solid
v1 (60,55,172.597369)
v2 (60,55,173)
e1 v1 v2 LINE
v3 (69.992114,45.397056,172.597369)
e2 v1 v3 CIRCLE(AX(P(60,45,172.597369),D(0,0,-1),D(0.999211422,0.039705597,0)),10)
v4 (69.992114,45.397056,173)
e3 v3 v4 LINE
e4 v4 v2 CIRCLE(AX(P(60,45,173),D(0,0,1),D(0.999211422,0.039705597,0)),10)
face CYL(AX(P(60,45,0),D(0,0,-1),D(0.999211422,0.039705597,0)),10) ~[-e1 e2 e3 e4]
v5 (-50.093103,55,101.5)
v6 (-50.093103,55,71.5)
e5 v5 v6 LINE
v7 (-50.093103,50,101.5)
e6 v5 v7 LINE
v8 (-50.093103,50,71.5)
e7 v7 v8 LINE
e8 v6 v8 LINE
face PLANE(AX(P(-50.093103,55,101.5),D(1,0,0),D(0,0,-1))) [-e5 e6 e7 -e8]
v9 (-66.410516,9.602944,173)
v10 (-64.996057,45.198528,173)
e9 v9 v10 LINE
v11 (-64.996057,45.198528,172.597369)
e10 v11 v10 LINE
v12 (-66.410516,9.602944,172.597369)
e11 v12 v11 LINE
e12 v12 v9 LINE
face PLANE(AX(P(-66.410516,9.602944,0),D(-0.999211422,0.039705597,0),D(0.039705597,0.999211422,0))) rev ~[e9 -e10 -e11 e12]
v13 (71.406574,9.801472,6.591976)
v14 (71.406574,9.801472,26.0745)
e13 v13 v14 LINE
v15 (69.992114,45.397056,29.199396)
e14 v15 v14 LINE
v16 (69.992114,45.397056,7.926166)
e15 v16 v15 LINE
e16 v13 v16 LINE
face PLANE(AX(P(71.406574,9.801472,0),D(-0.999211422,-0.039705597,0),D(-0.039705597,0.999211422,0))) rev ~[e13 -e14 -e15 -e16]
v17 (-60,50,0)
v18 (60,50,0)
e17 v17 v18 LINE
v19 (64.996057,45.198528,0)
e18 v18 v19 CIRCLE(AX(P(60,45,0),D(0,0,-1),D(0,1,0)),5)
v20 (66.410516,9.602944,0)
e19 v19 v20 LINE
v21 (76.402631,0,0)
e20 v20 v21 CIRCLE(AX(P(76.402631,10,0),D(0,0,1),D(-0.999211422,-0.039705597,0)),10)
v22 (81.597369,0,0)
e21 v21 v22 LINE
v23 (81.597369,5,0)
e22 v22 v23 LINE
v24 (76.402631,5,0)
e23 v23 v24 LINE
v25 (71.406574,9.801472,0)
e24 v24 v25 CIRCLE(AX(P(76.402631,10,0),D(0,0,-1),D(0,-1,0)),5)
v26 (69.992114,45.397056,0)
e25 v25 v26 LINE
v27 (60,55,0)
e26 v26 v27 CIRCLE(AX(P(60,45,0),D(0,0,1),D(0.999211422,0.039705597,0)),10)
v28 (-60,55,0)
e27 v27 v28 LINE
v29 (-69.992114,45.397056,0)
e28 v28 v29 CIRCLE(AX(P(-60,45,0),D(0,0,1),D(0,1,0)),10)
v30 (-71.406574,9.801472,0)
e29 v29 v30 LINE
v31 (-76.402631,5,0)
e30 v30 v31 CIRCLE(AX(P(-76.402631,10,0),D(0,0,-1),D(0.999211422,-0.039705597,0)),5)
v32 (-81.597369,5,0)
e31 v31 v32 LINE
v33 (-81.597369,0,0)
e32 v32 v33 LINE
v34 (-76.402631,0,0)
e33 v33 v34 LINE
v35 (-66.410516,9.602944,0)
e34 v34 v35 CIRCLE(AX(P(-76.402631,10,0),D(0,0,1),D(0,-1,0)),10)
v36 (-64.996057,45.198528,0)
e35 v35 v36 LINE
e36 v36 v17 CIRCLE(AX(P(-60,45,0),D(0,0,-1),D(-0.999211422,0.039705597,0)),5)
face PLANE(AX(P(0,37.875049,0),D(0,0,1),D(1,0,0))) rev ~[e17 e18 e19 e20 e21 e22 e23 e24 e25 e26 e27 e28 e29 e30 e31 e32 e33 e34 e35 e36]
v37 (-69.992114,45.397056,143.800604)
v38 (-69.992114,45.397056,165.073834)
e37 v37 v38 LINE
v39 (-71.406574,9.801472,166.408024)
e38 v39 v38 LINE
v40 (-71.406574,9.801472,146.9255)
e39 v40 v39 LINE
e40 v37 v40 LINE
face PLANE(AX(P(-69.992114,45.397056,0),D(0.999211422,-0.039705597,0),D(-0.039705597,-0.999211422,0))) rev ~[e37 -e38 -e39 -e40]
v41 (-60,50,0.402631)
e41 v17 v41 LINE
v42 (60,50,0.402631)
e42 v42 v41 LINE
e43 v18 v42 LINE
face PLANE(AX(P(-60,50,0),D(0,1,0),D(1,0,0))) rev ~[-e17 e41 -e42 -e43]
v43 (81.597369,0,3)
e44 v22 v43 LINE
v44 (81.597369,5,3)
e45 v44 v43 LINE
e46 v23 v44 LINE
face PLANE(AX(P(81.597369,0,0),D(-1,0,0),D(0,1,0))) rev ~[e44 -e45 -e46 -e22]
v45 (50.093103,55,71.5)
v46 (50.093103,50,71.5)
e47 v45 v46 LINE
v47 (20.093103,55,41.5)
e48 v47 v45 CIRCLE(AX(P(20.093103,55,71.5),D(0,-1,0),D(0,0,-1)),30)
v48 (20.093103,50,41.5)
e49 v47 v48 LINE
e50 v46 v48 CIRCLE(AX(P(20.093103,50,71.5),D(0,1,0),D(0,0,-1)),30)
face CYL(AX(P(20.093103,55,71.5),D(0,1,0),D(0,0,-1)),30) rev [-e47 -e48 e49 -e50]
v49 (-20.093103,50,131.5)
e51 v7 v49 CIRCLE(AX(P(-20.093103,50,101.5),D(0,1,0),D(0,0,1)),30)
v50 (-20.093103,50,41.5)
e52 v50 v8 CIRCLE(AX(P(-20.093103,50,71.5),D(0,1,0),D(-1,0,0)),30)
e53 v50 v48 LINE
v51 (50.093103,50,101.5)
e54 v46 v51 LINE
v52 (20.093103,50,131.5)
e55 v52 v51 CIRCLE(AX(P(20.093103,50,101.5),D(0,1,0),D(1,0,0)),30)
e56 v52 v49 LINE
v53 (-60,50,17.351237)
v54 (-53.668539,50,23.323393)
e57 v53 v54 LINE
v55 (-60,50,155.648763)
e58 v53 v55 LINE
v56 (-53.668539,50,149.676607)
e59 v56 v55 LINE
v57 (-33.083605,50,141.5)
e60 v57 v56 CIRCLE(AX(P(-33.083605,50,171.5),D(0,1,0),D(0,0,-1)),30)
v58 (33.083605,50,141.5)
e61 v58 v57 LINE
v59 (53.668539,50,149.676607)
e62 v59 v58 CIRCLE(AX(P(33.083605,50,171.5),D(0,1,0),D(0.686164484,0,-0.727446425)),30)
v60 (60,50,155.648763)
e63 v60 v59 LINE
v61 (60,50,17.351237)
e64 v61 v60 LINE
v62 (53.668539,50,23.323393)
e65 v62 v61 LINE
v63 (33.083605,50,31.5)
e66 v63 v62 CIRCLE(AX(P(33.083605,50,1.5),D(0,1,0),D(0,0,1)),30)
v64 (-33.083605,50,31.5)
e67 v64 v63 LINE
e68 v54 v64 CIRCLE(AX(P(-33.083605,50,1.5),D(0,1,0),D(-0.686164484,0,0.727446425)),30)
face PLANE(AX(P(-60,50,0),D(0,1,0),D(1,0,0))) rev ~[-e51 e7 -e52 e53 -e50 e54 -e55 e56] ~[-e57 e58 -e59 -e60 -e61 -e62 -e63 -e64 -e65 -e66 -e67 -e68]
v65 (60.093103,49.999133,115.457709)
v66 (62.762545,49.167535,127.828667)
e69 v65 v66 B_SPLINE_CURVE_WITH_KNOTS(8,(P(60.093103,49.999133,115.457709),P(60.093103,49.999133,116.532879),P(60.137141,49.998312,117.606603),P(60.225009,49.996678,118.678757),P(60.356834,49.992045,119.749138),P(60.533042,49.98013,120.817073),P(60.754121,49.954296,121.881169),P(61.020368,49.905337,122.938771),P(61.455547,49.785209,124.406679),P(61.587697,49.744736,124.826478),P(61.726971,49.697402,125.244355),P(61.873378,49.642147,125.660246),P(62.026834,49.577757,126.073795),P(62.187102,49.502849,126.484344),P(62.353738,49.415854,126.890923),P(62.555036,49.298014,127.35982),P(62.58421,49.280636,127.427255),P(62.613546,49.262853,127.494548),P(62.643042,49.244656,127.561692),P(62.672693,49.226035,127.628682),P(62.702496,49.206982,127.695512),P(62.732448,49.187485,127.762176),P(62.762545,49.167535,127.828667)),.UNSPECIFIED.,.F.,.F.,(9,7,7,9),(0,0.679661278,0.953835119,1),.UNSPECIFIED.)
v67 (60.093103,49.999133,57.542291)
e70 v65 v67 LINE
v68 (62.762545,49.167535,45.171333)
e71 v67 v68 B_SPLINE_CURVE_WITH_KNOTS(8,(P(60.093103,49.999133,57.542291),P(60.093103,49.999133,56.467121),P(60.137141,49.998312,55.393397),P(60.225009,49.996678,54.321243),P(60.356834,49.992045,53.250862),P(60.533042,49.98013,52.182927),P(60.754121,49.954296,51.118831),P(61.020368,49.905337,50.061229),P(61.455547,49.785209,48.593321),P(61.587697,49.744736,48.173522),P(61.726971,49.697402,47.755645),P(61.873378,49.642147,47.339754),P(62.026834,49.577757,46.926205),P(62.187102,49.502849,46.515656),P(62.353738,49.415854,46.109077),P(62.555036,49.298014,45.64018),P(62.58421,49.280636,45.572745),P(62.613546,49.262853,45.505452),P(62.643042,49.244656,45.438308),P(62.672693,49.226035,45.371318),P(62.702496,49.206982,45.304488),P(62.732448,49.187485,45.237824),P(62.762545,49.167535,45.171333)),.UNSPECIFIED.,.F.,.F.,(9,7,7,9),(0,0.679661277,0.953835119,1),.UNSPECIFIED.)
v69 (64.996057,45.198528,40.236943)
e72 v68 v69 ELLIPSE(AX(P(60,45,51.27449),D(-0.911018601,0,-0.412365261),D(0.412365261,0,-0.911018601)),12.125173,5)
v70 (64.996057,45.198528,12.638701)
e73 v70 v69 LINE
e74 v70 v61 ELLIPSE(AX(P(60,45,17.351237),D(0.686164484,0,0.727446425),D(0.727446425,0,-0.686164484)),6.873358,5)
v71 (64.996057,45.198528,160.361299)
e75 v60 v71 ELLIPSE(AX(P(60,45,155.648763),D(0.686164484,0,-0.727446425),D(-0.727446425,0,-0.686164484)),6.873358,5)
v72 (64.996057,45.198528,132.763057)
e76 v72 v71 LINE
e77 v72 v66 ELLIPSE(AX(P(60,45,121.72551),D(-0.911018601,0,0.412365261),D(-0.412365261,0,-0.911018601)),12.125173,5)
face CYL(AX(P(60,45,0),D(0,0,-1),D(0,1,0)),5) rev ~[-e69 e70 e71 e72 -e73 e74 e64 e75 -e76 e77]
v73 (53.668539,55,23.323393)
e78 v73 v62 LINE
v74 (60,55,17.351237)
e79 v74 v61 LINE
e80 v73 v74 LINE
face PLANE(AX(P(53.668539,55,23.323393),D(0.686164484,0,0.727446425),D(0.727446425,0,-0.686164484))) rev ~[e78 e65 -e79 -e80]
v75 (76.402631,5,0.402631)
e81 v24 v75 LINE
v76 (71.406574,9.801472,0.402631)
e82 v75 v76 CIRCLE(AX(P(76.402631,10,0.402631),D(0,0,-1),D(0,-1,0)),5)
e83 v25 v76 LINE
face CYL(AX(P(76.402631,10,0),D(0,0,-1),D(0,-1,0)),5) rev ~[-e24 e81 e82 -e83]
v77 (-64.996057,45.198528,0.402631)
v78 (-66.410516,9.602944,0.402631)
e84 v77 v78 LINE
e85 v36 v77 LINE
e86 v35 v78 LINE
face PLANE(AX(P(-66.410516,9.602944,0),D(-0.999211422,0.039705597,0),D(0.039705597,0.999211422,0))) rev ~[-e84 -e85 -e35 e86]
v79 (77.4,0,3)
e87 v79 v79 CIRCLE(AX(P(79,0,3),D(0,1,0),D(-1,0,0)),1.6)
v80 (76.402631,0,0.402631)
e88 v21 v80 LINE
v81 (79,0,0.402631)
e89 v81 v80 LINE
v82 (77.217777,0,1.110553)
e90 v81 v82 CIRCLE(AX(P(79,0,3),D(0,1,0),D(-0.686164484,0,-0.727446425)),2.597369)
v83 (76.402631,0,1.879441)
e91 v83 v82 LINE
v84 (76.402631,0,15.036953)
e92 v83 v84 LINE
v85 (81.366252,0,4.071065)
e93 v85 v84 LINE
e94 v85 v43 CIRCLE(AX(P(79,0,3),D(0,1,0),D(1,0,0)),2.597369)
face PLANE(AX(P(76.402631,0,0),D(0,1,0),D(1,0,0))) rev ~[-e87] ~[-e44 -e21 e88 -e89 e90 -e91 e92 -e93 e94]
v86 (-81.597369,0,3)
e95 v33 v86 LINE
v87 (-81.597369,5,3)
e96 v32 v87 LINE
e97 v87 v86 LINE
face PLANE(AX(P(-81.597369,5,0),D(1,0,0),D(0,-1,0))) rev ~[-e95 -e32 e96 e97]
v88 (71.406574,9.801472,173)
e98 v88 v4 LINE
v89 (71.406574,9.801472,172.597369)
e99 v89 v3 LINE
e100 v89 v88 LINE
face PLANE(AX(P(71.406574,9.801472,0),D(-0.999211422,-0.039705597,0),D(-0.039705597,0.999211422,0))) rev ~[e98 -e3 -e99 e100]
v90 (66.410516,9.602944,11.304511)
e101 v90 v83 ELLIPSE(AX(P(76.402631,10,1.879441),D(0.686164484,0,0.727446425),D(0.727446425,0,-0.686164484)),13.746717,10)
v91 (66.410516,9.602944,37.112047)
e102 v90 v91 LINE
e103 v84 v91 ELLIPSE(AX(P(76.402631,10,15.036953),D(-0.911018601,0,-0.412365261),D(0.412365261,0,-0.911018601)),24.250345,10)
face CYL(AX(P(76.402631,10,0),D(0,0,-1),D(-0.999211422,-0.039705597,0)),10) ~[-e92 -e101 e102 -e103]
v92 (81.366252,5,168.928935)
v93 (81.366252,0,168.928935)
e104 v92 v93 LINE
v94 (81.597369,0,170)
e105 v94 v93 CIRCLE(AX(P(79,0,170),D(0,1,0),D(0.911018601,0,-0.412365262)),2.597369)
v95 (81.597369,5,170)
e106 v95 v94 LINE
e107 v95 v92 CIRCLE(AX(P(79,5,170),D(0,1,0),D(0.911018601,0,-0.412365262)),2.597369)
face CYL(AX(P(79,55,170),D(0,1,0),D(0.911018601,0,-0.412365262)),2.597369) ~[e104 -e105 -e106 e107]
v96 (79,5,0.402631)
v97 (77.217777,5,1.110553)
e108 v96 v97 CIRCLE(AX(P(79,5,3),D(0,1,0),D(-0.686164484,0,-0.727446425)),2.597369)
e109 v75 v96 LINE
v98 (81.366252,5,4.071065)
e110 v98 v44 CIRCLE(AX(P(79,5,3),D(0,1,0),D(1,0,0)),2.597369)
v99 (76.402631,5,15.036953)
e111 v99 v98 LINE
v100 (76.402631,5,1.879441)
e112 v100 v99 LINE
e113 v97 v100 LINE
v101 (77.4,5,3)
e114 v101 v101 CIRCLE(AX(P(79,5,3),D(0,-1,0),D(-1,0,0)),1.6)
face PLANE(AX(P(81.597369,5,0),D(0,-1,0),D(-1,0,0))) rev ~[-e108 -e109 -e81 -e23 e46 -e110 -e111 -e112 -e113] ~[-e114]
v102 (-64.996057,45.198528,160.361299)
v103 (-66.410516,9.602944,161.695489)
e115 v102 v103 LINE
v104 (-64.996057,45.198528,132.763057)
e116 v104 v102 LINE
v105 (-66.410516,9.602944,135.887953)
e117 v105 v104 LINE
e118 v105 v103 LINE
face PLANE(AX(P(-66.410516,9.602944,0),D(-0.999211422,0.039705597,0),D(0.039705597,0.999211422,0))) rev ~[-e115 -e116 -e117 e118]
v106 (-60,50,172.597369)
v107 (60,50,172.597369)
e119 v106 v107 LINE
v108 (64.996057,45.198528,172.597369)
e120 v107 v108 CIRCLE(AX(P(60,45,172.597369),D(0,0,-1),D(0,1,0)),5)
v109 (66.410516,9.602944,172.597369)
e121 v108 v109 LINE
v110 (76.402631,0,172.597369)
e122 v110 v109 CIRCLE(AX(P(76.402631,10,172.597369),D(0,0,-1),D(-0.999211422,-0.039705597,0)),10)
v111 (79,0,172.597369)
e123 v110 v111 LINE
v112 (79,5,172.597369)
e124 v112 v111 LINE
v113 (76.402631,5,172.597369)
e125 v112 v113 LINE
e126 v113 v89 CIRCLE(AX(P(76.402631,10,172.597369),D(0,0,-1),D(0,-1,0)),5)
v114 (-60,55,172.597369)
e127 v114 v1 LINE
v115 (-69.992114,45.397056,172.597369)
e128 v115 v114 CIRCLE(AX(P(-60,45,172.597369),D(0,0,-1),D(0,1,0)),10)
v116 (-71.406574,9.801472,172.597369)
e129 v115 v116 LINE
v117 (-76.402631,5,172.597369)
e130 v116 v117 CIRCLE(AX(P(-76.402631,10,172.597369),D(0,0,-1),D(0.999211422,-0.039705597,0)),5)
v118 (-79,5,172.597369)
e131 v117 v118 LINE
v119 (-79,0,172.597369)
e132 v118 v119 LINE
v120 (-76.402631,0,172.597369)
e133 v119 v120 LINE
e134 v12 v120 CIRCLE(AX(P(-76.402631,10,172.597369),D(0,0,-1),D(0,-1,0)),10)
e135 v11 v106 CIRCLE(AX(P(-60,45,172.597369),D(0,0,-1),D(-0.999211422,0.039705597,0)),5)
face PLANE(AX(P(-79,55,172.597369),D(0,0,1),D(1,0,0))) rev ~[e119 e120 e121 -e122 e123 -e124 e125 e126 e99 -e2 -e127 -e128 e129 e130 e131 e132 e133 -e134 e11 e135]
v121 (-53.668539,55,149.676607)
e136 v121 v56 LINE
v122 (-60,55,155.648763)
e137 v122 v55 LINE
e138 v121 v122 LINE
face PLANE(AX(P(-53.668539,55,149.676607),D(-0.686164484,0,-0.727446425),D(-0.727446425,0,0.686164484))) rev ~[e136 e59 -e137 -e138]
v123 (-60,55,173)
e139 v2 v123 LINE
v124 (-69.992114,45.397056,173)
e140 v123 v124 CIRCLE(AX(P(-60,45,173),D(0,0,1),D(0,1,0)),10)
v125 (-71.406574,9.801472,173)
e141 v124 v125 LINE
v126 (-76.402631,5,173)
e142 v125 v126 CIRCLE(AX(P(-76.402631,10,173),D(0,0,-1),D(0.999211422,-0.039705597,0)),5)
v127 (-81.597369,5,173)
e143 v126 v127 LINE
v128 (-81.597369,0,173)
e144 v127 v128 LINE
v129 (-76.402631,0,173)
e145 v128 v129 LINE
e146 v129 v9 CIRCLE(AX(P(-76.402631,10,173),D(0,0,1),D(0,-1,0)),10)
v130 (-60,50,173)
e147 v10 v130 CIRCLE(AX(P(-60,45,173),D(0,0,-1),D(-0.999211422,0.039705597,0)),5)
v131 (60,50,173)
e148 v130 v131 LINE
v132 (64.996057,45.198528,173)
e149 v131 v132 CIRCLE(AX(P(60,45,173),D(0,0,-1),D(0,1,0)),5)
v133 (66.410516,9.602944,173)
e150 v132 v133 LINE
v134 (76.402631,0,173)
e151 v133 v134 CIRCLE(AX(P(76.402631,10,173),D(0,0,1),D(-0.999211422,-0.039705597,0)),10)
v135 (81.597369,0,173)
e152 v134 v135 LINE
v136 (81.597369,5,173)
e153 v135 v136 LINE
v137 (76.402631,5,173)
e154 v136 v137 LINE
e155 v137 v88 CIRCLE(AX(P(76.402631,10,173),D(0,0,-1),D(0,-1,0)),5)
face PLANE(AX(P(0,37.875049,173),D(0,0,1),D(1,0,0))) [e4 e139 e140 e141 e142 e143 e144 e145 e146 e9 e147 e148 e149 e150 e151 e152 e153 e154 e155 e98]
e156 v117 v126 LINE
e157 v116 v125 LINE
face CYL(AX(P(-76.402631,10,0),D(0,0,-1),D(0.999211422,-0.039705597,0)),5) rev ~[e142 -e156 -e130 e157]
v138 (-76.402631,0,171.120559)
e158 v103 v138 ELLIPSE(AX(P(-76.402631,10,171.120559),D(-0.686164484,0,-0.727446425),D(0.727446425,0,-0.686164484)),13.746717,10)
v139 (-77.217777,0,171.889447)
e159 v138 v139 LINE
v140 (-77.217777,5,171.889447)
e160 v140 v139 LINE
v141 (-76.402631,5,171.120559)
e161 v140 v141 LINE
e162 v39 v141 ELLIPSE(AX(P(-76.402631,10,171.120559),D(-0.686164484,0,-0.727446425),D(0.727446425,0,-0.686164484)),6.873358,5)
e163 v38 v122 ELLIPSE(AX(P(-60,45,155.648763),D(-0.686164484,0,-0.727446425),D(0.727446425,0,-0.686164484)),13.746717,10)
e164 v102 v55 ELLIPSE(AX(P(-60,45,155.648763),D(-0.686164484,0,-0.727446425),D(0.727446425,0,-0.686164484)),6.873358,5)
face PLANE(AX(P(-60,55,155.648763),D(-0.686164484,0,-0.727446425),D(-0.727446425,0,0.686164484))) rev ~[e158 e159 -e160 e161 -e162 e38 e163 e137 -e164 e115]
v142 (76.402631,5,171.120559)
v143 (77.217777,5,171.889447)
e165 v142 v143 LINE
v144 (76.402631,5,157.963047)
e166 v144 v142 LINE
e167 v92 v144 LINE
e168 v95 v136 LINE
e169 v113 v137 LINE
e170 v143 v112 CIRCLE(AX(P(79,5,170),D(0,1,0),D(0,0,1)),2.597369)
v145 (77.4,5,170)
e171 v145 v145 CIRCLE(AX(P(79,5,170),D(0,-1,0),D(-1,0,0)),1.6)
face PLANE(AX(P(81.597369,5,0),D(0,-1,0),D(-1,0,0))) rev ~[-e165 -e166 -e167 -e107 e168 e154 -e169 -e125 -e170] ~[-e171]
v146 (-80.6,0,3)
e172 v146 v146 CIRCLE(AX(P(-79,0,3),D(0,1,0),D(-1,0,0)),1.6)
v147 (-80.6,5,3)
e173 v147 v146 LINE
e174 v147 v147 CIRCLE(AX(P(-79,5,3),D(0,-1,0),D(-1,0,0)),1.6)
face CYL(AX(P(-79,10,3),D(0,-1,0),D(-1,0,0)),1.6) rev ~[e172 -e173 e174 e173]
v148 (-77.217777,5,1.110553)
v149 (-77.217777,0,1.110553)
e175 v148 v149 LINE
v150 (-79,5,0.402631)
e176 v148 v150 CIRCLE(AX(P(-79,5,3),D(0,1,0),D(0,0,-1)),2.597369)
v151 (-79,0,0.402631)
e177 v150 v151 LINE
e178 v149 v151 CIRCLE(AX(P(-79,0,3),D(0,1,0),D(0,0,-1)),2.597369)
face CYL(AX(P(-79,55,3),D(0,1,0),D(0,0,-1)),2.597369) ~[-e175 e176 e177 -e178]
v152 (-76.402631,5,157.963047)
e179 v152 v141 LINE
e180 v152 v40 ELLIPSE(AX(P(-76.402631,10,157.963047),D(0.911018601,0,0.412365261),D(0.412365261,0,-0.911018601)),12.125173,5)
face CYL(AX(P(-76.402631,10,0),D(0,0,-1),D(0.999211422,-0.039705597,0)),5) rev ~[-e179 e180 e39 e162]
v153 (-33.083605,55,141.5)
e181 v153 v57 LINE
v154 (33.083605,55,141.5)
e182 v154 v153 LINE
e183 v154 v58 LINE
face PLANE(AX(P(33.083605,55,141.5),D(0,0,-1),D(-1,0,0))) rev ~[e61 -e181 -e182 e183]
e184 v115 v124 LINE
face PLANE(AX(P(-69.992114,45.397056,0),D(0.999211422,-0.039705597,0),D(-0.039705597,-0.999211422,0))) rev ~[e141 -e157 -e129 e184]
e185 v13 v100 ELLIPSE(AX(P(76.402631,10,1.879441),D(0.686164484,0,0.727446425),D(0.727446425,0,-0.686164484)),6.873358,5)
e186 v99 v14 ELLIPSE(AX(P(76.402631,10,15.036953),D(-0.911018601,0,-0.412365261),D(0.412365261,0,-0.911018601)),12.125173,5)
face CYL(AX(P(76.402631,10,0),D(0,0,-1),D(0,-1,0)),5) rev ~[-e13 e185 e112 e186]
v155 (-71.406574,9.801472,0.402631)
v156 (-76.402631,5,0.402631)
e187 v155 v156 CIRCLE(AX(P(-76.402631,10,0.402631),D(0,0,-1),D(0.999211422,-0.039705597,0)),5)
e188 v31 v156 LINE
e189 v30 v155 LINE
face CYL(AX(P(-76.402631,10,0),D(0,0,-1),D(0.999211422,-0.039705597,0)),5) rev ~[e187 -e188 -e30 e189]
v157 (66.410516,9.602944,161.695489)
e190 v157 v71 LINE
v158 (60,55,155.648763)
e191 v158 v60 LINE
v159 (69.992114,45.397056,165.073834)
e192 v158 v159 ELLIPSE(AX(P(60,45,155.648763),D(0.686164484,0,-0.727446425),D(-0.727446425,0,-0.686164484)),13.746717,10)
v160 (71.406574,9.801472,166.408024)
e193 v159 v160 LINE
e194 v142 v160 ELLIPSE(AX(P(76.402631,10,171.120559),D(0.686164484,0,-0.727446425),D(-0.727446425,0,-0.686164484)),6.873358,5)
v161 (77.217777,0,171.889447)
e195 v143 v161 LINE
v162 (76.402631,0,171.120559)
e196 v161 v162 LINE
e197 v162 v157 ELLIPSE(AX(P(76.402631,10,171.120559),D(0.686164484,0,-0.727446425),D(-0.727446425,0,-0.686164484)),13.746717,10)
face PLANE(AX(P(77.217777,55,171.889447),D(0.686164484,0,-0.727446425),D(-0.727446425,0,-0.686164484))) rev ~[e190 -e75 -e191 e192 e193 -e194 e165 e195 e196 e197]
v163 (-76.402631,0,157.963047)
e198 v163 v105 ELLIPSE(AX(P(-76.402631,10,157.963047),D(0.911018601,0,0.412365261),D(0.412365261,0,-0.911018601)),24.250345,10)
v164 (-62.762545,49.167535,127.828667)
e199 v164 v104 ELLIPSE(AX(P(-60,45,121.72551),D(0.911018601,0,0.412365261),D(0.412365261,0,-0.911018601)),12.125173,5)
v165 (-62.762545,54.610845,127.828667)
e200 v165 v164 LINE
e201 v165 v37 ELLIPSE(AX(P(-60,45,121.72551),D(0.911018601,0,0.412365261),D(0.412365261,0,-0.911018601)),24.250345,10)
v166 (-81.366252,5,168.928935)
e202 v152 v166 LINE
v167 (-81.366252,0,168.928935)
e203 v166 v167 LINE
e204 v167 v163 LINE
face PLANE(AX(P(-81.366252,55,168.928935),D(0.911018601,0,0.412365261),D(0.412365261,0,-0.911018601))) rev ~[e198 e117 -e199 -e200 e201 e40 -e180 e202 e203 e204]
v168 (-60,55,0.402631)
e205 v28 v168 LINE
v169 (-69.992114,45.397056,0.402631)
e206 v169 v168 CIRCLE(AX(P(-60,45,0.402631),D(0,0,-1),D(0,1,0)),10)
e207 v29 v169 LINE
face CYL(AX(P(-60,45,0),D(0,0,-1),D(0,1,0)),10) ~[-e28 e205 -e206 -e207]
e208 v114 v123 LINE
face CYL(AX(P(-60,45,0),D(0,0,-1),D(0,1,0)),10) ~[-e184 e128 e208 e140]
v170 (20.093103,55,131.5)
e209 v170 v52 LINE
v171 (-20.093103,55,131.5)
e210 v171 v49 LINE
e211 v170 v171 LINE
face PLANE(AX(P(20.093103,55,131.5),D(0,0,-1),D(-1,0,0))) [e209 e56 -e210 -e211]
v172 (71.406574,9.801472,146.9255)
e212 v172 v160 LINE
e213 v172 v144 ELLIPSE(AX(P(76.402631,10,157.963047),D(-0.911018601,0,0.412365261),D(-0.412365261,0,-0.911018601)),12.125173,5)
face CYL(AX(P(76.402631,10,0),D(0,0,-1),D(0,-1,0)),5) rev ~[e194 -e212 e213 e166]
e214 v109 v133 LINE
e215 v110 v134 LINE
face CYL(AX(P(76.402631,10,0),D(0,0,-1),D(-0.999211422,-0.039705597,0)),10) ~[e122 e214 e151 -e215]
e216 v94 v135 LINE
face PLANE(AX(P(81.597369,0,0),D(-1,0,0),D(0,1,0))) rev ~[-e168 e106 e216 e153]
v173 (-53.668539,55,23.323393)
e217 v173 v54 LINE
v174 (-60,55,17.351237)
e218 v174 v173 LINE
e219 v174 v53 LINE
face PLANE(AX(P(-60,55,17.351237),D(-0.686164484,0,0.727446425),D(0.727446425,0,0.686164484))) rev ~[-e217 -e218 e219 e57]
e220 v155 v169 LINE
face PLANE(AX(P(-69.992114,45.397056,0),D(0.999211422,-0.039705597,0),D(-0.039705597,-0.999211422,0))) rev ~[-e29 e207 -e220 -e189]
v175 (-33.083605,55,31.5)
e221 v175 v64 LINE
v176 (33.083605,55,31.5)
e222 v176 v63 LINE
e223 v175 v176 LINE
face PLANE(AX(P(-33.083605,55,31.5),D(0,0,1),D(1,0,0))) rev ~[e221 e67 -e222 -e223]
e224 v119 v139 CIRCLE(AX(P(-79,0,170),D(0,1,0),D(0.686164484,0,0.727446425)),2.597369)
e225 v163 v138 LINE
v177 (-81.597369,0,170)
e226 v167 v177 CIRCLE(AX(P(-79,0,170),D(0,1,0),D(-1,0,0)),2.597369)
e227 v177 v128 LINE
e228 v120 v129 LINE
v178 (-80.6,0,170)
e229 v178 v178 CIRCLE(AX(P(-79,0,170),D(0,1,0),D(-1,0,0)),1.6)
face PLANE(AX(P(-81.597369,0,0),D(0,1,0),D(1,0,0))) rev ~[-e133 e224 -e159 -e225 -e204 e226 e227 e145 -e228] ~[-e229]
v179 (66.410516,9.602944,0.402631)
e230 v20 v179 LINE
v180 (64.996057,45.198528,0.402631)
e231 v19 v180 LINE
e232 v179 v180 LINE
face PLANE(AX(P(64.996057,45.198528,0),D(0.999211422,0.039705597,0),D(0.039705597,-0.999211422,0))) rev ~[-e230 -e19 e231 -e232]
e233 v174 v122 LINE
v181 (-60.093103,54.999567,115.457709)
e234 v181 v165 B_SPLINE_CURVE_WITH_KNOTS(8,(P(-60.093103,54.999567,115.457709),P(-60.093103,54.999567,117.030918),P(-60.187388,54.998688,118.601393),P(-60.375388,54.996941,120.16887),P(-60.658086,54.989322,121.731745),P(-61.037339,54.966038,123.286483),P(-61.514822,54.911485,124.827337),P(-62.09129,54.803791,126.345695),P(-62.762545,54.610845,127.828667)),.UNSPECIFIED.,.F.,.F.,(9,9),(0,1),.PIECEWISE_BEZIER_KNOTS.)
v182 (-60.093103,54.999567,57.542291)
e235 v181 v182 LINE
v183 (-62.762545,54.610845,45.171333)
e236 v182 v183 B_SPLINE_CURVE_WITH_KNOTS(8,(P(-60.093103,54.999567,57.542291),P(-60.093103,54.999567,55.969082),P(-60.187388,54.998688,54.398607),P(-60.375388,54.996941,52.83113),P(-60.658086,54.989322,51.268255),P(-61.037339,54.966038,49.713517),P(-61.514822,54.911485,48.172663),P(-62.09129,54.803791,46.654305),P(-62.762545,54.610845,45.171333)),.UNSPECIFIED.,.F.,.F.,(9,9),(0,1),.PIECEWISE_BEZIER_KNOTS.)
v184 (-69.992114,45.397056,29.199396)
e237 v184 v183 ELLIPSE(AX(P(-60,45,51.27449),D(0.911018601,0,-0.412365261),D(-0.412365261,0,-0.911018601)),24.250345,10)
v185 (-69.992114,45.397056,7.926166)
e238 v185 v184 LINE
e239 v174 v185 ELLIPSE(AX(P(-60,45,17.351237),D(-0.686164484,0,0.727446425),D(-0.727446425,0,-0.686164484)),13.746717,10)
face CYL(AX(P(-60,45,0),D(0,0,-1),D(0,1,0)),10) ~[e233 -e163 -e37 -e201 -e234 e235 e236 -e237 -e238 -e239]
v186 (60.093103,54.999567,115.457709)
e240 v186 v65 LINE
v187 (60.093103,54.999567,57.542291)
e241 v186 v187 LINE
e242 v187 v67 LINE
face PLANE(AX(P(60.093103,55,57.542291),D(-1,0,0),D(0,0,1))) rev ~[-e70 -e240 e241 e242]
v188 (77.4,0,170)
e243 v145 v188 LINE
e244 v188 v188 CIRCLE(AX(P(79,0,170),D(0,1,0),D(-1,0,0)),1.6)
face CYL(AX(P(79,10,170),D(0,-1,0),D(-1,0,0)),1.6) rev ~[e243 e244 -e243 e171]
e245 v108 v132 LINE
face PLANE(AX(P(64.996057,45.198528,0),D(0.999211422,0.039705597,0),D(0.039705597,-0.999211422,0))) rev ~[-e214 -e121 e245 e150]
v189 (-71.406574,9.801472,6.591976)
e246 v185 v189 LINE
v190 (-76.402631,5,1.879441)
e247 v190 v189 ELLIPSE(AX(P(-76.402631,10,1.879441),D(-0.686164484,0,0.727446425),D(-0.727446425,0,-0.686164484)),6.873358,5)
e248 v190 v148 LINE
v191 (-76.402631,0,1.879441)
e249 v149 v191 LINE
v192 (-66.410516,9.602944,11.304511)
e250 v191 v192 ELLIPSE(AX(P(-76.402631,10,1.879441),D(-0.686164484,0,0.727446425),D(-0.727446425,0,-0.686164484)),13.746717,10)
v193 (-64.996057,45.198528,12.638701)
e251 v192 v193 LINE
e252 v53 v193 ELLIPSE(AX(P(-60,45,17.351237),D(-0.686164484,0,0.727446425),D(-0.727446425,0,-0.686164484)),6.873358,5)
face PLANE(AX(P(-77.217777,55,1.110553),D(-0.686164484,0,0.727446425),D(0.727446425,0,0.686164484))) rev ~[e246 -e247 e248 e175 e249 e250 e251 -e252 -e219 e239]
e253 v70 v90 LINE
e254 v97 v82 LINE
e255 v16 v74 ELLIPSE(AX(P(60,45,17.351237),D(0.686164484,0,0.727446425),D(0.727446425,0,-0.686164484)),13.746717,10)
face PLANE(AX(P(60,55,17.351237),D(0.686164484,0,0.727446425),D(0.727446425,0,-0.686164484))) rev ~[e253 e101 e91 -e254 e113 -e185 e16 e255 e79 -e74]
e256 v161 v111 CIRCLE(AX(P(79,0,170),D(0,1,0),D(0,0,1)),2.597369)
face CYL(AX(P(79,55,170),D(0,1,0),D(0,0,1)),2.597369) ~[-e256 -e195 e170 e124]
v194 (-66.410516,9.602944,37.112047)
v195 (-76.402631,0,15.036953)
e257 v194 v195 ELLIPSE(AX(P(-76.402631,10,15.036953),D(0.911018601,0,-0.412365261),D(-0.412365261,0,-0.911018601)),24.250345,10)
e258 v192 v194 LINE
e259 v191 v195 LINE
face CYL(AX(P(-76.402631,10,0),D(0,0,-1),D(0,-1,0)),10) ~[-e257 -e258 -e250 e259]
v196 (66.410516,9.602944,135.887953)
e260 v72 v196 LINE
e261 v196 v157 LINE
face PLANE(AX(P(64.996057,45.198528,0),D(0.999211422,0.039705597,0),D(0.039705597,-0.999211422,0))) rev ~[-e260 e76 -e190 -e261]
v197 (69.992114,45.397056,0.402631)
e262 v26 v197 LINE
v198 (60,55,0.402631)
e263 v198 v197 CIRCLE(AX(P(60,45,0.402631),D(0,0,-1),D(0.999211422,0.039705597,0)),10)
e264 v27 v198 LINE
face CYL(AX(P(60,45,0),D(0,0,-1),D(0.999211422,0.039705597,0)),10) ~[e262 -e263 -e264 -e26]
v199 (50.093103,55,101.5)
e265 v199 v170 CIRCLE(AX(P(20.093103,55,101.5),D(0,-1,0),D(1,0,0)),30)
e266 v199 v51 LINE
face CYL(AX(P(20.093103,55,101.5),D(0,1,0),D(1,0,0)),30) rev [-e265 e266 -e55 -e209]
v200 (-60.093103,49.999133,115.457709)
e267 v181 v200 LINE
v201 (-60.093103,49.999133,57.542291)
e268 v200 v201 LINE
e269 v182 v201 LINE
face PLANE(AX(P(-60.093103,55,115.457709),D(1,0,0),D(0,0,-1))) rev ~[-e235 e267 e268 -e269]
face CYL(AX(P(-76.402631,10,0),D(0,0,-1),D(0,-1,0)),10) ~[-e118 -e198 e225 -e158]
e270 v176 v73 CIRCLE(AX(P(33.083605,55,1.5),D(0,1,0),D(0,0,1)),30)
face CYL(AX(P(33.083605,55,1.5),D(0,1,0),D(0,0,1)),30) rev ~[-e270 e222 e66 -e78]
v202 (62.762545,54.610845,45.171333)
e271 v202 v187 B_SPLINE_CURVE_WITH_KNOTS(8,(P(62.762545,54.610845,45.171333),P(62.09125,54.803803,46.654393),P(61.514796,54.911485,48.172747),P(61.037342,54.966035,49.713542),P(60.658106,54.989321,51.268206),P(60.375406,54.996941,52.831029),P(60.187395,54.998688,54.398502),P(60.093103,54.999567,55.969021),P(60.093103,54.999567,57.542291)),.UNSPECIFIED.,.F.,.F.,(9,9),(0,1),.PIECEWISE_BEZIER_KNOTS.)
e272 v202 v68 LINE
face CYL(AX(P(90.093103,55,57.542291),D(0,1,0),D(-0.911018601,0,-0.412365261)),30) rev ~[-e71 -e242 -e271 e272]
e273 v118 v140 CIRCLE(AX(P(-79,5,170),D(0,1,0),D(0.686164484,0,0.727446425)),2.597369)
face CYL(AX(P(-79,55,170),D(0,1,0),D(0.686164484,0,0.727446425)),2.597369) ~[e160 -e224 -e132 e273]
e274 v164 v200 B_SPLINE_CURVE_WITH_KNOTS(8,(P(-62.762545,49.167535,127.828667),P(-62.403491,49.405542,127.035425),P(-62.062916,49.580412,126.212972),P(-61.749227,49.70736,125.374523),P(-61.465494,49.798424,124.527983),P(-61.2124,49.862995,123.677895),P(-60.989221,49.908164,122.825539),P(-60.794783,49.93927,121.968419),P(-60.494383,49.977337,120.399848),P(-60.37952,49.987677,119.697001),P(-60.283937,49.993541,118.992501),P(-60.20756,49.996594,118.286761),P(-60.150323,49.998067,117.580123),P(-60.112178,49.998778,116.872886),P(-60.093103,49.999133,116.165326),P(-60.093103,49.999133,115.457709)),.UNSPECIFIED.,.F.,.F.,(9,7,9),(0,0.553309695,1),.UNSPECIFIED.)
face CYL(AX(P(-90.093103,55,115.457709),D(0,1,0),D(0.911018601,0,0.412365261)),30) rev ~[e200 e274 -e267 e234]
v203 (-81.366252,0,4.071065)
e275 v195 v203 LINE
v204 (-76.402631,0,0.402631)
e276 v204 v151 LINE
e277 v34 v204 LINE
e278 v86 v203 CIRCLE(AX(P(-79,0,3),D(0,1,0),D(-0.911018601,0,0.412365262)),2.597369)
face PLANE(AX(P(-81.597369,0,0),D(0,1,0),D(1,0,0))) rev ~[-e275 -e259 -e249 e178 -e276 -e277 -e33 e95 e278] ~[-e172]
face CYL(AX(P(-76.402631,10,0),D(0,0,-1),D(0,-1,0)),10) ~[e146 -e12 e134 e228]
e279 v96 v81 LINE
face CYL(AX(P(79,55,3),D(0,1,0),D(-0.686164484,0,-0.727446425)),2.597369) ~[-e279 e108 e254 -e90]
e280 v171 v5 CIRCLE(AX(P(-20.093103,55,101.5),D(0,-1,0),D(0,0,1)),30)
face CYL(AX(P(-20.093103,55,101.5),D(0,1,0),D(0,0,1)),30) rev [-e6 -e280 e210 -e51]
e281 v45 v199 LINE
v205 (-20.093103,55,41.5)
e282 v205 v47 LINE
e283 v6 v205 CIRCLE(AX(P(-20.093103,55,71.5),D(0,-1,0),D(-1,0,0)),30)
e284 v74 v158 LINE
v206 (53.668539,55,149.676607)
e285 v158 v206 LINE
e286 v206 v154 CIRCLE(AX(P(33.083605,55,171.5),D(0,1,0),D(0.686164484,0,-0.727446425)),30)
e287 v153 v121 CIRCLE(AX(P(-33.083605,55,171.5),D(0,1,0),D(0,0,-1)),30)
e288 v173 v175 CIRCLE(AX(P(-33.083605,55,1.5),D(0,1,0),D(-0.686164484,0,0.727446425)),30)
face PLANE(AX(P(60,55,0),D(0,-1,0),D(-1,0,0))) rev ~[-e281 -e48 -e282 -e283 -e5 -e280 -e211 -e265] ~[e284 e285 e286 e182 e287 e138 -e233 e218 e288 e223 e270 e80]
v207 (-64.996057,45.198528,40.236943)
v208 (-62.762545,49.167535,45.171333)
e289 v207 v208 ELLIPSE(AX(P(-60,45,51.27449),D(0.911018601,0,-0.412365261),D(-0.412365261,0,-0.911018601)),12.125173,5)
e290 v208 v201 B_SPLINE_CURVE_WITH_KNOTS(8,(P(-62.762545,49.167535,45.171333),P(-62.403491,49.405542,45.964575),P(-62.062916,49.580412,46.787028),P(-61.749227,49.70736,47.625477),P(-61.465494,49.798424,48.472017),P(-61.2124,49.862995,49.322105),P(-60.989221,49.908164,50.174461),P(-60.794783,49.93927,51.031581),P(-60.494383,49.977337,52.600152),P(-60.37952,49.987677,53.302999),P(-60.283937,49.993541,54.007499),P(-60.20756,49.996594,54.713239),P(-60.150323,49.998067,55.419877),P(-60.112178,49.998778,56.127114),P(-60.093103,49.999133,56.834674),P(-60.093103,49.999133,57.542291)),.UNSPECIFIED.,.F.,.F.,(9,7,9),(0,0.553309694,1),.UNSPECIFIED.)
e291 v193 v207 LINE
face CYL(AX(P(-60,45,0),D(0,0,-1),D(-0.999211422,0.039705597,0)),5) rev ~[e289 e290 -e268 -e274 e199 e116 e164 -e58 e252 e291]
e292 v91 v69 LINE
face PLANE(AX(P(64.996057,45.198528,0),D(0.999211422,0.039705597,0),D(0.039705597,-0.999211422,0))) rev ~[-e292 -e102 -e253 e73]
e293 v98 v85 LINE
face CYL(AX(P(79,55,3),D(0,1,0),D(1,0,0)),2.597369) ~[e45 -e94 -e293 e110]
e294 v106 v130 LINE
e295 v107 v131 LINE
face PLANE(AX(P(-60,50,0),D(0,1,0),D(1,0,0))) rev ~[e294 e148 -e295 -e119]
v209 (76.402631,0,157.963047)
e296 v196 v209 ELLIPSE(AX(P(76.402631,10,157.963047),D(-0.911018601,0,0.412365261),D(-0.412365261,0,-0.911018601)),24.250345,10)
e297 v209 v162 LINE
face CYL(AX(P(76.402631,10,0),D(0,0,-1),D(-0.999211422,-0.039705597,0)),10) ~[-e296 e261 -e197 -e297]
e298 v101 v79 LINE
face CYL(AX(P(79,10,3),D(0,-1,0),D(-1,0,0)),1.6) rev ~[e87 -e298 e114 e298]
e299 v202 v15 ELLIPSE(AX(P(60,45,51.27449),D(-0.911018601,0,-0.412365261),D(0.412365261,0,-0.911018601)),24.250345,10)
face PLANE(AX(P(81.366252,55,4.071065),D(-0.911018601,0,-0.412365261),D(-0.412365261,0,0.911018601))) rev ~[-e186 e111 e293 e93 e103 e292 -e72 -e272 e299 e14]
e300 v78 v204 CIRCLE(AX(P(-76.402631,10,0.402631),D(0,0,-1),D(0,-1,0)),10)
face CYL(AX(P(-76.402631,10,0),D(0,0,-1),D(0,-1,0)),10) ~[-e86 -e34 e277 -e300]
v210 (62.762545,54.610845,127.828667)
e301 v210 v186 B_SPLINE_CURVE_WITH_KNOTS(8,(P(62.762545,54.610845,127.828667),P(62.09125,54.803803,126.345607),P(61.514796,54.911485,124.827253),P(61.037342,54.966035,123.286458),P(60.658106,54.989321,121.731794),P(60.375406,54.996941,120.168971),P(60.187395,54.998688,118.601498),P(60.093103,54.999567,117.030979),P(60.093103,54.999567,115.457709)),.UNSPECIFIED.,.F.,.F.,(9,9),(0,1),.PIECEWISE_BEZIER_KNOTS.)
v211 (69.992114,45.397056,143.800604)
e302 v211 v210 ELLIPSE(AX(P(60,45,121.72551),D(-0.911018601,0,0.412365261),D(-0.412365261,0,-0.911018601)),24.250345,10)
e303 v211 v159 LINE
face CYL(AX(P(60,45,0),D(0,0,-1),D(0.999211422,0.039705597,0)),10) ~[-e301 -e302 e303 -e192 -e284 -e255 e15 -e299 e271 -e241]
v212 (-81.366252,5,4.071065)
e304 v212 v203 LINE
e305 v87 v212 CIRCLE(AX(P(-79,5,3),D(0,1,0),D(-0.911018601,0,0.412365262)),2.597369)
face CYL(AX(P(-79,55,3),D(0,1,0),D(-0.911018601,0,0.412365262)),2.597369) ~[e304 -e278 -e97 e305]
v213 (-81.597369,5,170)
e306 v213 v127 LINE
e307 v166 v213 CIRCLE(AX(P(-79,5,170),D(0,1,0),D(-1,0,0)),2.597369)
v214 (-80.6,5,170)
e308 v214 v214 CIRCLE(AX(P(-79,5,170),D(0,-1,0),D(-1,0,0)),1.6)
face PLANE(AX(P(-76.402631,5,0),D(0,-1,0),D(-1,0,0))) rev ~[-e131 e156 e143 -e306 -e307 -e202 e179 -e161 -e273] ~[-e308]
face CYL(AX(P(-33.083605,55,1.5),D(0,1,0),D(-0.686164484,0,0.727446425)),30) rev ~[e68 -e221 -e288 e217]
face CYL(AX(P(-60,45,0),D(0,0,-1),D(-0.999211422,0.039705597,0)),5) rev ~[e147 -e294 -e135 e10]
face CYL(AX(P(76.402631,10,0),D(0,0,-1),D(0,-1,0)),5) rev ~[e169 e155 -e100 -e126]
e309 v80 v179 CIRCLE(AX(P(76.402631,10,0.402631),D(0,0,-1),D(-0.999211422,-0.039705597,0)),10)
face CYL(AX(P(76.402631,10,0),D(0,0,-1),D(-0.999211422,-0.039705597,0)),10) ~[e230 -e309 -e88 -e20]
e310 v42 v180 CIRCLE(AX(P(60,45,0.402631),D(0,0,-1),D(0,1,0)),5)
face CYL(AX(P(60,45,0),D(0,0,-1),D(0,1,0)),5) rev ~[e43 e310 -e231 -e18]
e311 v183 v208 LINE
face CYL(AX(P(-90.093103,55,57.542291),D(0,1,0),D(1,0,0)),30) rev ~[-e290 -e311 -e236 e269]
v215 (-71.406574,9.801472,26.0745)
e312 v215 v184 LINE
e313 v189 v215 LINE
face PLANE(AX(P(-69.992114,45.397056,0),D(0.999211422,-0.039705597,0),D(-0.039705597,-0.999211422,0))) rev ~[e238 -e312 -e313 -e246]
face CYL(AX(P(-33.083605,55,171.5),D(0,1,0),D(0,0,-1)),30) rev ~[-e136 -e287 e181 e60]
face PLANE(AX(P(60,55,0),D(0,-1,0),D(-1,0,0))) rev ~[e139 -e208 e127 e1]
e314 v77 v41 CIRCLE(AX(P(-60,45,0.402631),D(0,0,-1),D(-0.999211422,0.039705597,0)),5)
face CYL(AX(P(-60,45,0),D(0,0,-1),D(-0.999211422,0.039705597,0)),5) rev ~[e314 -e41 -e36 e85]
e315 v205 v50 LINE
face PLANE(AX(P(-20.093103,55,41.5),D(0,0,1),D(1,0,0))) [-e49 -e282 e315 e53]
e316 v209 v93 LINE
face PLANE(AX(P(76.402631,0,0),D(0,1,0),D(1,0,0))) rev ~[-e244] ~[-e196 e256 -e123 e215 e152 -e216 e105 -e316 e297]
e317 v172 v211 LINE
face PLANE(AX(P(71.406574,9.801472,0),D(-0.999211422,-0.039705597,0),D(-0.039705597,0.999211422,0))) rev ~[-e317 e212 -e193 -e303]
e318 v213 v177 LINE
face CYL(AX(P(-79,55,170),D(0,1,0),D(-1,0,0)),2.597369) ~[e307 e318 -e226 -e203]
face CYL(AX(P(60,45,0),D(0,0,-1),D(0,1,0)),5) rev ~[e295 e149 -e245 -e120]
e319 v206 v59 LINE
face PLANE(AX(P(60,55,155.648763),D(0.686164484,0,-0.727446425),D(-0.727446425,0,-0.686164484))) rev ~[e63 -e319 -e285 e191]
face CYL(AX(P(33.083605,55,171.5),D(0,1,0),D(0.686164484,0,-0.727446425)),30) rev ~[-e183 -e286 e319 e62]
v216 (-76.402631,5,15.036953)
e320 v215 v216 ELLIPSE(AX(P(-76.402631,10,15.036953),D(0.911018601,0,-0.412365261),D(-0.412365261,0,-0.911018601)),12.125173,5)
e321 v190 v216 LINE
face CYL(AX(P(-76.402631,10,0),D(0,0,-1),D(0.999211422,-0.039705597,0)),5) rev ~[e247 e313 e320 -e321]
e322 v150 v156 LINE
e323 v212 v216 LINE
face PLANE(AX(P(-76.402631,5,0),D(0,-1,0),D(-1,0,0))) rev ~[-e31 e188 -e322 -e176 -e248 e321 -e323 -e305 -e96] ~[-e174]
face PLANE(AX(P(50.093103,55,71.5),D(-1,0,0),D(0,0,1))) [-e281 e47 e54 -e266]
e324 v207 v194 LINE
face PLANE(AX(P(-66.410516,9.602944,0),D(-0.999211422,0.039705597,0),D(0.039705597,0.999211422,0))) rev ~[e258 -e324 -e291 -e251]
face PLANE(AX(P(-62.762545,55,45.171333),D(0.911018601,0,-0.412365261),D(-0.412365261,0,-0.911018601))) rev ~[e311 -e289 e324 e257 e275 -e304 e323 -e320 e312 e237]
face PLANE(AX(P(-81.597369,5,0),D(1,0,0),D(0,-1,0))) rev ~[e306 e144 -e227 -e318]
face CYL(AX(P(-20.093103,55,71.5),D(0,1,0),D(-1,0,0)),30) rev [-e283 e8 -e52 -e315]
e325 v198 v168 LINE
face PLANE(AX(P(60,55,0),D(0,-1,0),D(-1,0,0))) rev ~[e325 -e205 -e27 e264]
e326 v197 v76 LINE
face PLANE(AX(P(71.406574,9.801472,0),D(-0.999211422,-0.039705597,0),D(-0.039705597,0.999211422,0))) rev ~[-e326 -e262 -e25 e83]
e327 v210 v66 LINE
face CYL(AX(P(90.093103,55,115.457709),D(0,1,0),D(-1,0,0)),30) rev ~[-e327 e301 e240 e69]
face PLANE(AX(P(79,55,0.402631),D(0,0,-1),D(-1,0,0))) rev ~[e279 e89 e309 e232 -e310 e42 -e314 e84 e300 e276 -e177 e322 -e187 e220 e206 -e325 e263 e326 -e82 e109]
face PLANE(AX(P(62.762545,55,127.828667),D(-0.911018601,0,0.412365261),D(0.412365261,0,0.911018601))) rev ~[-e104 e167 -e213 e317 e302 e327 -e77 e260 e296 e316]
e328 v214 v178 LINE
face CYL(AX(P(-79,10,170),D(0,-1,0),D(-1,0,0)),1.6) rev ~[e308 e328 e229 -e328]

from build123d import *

# Parameters (mm, degrees)
BOSS_EXTRU_1_DEPTH      = 173
D_GAGEMENT_M31_D        = 3.2
D_GAGEMENT_M31_DEPTH    = 5
D_GAGEMENT_M31_TIP      = 0.96137699
ENL_V_MAT_EXTRU_1_DEPTH = 56


with BuildPart() as part:
    # Esquisse1 → Boss.-Extru.1 (new body)
    with BuildSketch(Plane.XY):
        with BuildLine():
            Line((-81.597369332, 0), (-76.402630668, 0))
            ThreePointArc((-76.402630668, 0), (-69.473365186, 2.789918178), (-66.41051645, 9.602944025))
            Line((-66.41051645, 9.602944025), (-64.996057109, 45.198527987))
            ThreePointArc((-64.996057109, 45.198527987), (-63.464632741, 48.605040911), (-60, 50))
            Line((-60, 50), (60, 50))
            ThreePointArc((60, 50), (63.464632741, 48.605040911), (64.996057109, 45.198527987))
            Line((64.996057109, 45.198527987), (66.41051645, 9.602944025))
            ThreePointArc((66.41051645, 9.602944025), (69.473365186, 2.789918178), (76.402630668, 0))
            Line((76.402630668, 0), (81.597369332, 0))
            Line((81.597369332, 0), (81.597369332, 5))
            Line((81.597369332, 5), (76.402630668, 5))
            ThreePointArc((76.402630668, 5), (72.937997927, 6.394959089), (71.406573559, 9.801472013))
            Line((71.406573559, 9.801472013), (69.992114218, 45.397055975))
            ThreePointArc((69.992114218, 45.397055975), (66.929265482, 52.210081822), (60, 55))
            Line((60, 55), (-60, 55))
            ThreePointArc((-60, 55), (-66.929265482, 52.210081822), (-69.992114218, 45.397055975))
            Line((-69.992114218, 45.397055975), (-71.406573559, 9.801472013))
            ThreePointArc((-71.406573559, 9.801472013), (-72.937997927, 6.394959089), (-76.402630668, 5))
            Line((-76.402630668, 5), (-81.597369332, 5))
            Line((-81.597369332, 5), (-81.597369332, 0))
        make_face()
    extrude(amount=BOSS_EXTRU_1_DEPTH)

    # Dégagement M31
    with Locations(Plane(origin=(0, 5, 0), x_dir=(1, 0, 0), z_dir=(0, 1, 0))):
        with Locations((-79, -170), (-79, -3), (79, -170), (79, -3)):
            Hole(D_GAGEMENT_M31_D / 2, depth=D_GAGEMENT_M31_DEPTH)
            with Locations((0, 0, -(D_GAGEMENT_M31_DEPTH + D_GAGEMENT_M31_TIP / 2))):  # 118° drill point
                Cone(0, D_GAGEMENT_M31_D / 2, D_GAGEMENT_M31_TIP, mode=Mode.SUBTRACT)

    # Esquisse4 → Enlèv. mat.-Extru.1 (cut, through all)
    with BuildSketch(Plane(origin=(0, 55, 0), x_dir=(1, 0, 0), z_dir=(0, 1, 0))):
        with BuildLine():
            ThreePointArc((-20.093103017, -131.5), (-41.306306452, -122.713203436), (-50.093103017, -101.5))
            Line((-50.093103017, -101.5), (-50.093103017, -71.5))
            ThreePointArc((-50.093103017, -71.5), (-41.306306452, -50.286796564), (-20.093103017, -41.5))
            Line((-20.093103017, -41.5), (20.093103017, -41.5))
            ThreePointArc((20.093103017, -41.5), (41.306306452, -50.286796564), (50.093103017, -71.5))
            Line((50.093103017, -71.5), (50.093103017, -101.5))
            ThreePointArc((50.093103017, -101.5), (41.306306452, -122.713203436), (20.093103017, -131.5))
            Line((20.093103017, -131.5), (-20.093103017, -131.5))
        make_face()
        with BuildLine():
            ThreePointArc((81.366251775, -168.928935118), (81.538932575, -169.4521416), (81.597369332, -170))
            Line((81.597369332, -170), (81.597369332, -3))
            ThreePointArc((81.597369332, -3), (81.538932575, -3.5478584), (81.366251775, -4.071064882))
            Line((81.366251775, -4.071064882), (62.762544981, -45.171333393))
            ThreePointArc((62.762544981, -45.171333393), (60.768056204, -51.214445653), (60.093103017, -57.542291215))
            Line((60.093103017, -57.542291215), (60.093103017, -115.457708785))
            ThreePointArc((60.093103017, -115.457708785), (60.768056204, -121.785554347), (62.762544981, -127.828666607))
            Line((62.762544981, -127.828666607), (81.366251775, -168.928935118))
        make_face()
        with BuildLine():
            Line((60, -0.402630668), (-60, -0.402630668))
            Line((-60, -0.402630668), (-60, -17.351236736))
            Line((-60, -17.351236736), (-53.668539182, -23.323392752))
            ThreePointArc((-53.668539182, -23.323392752), (-44.158310479, -29.381013096), (-33.083604671, -31.5))
            Line((-33.083604671, -31.5), (33.083604671, -31.5))
            ThreePointArc((33.083604671, -31.5), (44.158310479, -29.381013096), (53.668539182, -23.323392752))
            Line((53.668539182, -23.323392752), (60, -17.351236736))
            Line((60, -17.351236736), (60, -0.402630668))
        make_face()
        with BuildLine():
            Line((-60, -0.402630668), (-79, -0.402630668))
            ThreePointArc((-79, -0.402630668), (-78.041163293, -0.586090388), (-77.217777414, -1.110552965))
            Line((-77.217777414, -1.110552965), (-60, -17.351236736))
            Line((-60, -17.351236736), (-60, -0.402630668))
        make_face()
        with BuildLine():
            Line((79, -0.402630668), (60, -0.402630668))
            Line((60, -0.402630668), (60, -17.351236736))
            Line((60, -17.351236736), (77.217777414, -1.110552965))
            ThreePointArc((77.217777414, -1.110552965), (78.041163293, -0.586090388), (79, -0.402630668))
        make_face()
        with BuildLine():
            ThreePointArc((-81.597369332, -170), (-81.538932575, -169.4521416), (-81.366251775, -168.928935118))
            Line((-81.366251775, -168.928935118), (-62.762544981, -127.828666607))
            ThreePointArc((-62.762544981, -127.828666607), (-60.768056204, -121.785554347), (-60.093103017, -115.457708785))
            Line((-60.093103017, -115.457708785), (-60.093103017, -57.542291215))
            ThreePointArc((-60.093103017, -57.542291215), (-60.768056204, -51.214445653), (-62.762544981, -45.171333393))
            Line((-62.762544981, -45.171333393), (-81.366251775, -4.071064882))
            ThreePointArc((-81.366251775, -4.071064882), (-81.538932575, -3.5478584), (-81.597369332, -3))
            Line((-81.597369332, -3), (-81.597369332, -170))
        make_face()
        with BuildLine():
            Line((-60, -155.648763264), (-60, -172.597369332))
            Line((-60, -172.597369332), (60, -172.597369332))
            Line((60, -172.597369332), (60, -155.648763264))
            Line((60, -155.648763264), (53.668539182, -149.676607248))
            ThreePointArc((53.668539182, -149.676607248), (44.158310479, -143.618986904), (33.083604671, -141.5))
            Line((33.083604671, -141.5), (-33.083604671, -141.5))
            ThreePointArc((-33.083604671, -141.5), (-44.158310479, -143.618986904), (-53.668539182, -149.676607248))
            Line((-53.668539182, -149.676607248), (-60, -155.648763264))
        make_face()
        with BuildLine():
            Line((60, -155.648763264), (60, -172.597369332))
            Line((60, -172.597369332), (79, -172.597369332))
            ThreePointArc((79, -172.597369332), (78.041163293, -172.413909612), (77.217777414, -171.889447035))
            Line((77.217777414, -171.889447035), (60, -155.648763264))
        make_face()
        with BuildLine():
            ThreePointArc((-77.217777414, -171.889447035), (-78.041163293, -172.413909612), (-79, -172.597369332))
            Line((-79, -172.597369332), (-60, -172.597369332))
            Line((-60, -172.597369332), (-60, -155.648763264))
            Line((-60, -155.648763264), (-77.217777414, -171.889447035))
        make_face()
    extrude(amount=-ENL_V_MAT_EXTRU_1_DEPTH, mode=Mode.SUBTRACT)


solid = part.part
